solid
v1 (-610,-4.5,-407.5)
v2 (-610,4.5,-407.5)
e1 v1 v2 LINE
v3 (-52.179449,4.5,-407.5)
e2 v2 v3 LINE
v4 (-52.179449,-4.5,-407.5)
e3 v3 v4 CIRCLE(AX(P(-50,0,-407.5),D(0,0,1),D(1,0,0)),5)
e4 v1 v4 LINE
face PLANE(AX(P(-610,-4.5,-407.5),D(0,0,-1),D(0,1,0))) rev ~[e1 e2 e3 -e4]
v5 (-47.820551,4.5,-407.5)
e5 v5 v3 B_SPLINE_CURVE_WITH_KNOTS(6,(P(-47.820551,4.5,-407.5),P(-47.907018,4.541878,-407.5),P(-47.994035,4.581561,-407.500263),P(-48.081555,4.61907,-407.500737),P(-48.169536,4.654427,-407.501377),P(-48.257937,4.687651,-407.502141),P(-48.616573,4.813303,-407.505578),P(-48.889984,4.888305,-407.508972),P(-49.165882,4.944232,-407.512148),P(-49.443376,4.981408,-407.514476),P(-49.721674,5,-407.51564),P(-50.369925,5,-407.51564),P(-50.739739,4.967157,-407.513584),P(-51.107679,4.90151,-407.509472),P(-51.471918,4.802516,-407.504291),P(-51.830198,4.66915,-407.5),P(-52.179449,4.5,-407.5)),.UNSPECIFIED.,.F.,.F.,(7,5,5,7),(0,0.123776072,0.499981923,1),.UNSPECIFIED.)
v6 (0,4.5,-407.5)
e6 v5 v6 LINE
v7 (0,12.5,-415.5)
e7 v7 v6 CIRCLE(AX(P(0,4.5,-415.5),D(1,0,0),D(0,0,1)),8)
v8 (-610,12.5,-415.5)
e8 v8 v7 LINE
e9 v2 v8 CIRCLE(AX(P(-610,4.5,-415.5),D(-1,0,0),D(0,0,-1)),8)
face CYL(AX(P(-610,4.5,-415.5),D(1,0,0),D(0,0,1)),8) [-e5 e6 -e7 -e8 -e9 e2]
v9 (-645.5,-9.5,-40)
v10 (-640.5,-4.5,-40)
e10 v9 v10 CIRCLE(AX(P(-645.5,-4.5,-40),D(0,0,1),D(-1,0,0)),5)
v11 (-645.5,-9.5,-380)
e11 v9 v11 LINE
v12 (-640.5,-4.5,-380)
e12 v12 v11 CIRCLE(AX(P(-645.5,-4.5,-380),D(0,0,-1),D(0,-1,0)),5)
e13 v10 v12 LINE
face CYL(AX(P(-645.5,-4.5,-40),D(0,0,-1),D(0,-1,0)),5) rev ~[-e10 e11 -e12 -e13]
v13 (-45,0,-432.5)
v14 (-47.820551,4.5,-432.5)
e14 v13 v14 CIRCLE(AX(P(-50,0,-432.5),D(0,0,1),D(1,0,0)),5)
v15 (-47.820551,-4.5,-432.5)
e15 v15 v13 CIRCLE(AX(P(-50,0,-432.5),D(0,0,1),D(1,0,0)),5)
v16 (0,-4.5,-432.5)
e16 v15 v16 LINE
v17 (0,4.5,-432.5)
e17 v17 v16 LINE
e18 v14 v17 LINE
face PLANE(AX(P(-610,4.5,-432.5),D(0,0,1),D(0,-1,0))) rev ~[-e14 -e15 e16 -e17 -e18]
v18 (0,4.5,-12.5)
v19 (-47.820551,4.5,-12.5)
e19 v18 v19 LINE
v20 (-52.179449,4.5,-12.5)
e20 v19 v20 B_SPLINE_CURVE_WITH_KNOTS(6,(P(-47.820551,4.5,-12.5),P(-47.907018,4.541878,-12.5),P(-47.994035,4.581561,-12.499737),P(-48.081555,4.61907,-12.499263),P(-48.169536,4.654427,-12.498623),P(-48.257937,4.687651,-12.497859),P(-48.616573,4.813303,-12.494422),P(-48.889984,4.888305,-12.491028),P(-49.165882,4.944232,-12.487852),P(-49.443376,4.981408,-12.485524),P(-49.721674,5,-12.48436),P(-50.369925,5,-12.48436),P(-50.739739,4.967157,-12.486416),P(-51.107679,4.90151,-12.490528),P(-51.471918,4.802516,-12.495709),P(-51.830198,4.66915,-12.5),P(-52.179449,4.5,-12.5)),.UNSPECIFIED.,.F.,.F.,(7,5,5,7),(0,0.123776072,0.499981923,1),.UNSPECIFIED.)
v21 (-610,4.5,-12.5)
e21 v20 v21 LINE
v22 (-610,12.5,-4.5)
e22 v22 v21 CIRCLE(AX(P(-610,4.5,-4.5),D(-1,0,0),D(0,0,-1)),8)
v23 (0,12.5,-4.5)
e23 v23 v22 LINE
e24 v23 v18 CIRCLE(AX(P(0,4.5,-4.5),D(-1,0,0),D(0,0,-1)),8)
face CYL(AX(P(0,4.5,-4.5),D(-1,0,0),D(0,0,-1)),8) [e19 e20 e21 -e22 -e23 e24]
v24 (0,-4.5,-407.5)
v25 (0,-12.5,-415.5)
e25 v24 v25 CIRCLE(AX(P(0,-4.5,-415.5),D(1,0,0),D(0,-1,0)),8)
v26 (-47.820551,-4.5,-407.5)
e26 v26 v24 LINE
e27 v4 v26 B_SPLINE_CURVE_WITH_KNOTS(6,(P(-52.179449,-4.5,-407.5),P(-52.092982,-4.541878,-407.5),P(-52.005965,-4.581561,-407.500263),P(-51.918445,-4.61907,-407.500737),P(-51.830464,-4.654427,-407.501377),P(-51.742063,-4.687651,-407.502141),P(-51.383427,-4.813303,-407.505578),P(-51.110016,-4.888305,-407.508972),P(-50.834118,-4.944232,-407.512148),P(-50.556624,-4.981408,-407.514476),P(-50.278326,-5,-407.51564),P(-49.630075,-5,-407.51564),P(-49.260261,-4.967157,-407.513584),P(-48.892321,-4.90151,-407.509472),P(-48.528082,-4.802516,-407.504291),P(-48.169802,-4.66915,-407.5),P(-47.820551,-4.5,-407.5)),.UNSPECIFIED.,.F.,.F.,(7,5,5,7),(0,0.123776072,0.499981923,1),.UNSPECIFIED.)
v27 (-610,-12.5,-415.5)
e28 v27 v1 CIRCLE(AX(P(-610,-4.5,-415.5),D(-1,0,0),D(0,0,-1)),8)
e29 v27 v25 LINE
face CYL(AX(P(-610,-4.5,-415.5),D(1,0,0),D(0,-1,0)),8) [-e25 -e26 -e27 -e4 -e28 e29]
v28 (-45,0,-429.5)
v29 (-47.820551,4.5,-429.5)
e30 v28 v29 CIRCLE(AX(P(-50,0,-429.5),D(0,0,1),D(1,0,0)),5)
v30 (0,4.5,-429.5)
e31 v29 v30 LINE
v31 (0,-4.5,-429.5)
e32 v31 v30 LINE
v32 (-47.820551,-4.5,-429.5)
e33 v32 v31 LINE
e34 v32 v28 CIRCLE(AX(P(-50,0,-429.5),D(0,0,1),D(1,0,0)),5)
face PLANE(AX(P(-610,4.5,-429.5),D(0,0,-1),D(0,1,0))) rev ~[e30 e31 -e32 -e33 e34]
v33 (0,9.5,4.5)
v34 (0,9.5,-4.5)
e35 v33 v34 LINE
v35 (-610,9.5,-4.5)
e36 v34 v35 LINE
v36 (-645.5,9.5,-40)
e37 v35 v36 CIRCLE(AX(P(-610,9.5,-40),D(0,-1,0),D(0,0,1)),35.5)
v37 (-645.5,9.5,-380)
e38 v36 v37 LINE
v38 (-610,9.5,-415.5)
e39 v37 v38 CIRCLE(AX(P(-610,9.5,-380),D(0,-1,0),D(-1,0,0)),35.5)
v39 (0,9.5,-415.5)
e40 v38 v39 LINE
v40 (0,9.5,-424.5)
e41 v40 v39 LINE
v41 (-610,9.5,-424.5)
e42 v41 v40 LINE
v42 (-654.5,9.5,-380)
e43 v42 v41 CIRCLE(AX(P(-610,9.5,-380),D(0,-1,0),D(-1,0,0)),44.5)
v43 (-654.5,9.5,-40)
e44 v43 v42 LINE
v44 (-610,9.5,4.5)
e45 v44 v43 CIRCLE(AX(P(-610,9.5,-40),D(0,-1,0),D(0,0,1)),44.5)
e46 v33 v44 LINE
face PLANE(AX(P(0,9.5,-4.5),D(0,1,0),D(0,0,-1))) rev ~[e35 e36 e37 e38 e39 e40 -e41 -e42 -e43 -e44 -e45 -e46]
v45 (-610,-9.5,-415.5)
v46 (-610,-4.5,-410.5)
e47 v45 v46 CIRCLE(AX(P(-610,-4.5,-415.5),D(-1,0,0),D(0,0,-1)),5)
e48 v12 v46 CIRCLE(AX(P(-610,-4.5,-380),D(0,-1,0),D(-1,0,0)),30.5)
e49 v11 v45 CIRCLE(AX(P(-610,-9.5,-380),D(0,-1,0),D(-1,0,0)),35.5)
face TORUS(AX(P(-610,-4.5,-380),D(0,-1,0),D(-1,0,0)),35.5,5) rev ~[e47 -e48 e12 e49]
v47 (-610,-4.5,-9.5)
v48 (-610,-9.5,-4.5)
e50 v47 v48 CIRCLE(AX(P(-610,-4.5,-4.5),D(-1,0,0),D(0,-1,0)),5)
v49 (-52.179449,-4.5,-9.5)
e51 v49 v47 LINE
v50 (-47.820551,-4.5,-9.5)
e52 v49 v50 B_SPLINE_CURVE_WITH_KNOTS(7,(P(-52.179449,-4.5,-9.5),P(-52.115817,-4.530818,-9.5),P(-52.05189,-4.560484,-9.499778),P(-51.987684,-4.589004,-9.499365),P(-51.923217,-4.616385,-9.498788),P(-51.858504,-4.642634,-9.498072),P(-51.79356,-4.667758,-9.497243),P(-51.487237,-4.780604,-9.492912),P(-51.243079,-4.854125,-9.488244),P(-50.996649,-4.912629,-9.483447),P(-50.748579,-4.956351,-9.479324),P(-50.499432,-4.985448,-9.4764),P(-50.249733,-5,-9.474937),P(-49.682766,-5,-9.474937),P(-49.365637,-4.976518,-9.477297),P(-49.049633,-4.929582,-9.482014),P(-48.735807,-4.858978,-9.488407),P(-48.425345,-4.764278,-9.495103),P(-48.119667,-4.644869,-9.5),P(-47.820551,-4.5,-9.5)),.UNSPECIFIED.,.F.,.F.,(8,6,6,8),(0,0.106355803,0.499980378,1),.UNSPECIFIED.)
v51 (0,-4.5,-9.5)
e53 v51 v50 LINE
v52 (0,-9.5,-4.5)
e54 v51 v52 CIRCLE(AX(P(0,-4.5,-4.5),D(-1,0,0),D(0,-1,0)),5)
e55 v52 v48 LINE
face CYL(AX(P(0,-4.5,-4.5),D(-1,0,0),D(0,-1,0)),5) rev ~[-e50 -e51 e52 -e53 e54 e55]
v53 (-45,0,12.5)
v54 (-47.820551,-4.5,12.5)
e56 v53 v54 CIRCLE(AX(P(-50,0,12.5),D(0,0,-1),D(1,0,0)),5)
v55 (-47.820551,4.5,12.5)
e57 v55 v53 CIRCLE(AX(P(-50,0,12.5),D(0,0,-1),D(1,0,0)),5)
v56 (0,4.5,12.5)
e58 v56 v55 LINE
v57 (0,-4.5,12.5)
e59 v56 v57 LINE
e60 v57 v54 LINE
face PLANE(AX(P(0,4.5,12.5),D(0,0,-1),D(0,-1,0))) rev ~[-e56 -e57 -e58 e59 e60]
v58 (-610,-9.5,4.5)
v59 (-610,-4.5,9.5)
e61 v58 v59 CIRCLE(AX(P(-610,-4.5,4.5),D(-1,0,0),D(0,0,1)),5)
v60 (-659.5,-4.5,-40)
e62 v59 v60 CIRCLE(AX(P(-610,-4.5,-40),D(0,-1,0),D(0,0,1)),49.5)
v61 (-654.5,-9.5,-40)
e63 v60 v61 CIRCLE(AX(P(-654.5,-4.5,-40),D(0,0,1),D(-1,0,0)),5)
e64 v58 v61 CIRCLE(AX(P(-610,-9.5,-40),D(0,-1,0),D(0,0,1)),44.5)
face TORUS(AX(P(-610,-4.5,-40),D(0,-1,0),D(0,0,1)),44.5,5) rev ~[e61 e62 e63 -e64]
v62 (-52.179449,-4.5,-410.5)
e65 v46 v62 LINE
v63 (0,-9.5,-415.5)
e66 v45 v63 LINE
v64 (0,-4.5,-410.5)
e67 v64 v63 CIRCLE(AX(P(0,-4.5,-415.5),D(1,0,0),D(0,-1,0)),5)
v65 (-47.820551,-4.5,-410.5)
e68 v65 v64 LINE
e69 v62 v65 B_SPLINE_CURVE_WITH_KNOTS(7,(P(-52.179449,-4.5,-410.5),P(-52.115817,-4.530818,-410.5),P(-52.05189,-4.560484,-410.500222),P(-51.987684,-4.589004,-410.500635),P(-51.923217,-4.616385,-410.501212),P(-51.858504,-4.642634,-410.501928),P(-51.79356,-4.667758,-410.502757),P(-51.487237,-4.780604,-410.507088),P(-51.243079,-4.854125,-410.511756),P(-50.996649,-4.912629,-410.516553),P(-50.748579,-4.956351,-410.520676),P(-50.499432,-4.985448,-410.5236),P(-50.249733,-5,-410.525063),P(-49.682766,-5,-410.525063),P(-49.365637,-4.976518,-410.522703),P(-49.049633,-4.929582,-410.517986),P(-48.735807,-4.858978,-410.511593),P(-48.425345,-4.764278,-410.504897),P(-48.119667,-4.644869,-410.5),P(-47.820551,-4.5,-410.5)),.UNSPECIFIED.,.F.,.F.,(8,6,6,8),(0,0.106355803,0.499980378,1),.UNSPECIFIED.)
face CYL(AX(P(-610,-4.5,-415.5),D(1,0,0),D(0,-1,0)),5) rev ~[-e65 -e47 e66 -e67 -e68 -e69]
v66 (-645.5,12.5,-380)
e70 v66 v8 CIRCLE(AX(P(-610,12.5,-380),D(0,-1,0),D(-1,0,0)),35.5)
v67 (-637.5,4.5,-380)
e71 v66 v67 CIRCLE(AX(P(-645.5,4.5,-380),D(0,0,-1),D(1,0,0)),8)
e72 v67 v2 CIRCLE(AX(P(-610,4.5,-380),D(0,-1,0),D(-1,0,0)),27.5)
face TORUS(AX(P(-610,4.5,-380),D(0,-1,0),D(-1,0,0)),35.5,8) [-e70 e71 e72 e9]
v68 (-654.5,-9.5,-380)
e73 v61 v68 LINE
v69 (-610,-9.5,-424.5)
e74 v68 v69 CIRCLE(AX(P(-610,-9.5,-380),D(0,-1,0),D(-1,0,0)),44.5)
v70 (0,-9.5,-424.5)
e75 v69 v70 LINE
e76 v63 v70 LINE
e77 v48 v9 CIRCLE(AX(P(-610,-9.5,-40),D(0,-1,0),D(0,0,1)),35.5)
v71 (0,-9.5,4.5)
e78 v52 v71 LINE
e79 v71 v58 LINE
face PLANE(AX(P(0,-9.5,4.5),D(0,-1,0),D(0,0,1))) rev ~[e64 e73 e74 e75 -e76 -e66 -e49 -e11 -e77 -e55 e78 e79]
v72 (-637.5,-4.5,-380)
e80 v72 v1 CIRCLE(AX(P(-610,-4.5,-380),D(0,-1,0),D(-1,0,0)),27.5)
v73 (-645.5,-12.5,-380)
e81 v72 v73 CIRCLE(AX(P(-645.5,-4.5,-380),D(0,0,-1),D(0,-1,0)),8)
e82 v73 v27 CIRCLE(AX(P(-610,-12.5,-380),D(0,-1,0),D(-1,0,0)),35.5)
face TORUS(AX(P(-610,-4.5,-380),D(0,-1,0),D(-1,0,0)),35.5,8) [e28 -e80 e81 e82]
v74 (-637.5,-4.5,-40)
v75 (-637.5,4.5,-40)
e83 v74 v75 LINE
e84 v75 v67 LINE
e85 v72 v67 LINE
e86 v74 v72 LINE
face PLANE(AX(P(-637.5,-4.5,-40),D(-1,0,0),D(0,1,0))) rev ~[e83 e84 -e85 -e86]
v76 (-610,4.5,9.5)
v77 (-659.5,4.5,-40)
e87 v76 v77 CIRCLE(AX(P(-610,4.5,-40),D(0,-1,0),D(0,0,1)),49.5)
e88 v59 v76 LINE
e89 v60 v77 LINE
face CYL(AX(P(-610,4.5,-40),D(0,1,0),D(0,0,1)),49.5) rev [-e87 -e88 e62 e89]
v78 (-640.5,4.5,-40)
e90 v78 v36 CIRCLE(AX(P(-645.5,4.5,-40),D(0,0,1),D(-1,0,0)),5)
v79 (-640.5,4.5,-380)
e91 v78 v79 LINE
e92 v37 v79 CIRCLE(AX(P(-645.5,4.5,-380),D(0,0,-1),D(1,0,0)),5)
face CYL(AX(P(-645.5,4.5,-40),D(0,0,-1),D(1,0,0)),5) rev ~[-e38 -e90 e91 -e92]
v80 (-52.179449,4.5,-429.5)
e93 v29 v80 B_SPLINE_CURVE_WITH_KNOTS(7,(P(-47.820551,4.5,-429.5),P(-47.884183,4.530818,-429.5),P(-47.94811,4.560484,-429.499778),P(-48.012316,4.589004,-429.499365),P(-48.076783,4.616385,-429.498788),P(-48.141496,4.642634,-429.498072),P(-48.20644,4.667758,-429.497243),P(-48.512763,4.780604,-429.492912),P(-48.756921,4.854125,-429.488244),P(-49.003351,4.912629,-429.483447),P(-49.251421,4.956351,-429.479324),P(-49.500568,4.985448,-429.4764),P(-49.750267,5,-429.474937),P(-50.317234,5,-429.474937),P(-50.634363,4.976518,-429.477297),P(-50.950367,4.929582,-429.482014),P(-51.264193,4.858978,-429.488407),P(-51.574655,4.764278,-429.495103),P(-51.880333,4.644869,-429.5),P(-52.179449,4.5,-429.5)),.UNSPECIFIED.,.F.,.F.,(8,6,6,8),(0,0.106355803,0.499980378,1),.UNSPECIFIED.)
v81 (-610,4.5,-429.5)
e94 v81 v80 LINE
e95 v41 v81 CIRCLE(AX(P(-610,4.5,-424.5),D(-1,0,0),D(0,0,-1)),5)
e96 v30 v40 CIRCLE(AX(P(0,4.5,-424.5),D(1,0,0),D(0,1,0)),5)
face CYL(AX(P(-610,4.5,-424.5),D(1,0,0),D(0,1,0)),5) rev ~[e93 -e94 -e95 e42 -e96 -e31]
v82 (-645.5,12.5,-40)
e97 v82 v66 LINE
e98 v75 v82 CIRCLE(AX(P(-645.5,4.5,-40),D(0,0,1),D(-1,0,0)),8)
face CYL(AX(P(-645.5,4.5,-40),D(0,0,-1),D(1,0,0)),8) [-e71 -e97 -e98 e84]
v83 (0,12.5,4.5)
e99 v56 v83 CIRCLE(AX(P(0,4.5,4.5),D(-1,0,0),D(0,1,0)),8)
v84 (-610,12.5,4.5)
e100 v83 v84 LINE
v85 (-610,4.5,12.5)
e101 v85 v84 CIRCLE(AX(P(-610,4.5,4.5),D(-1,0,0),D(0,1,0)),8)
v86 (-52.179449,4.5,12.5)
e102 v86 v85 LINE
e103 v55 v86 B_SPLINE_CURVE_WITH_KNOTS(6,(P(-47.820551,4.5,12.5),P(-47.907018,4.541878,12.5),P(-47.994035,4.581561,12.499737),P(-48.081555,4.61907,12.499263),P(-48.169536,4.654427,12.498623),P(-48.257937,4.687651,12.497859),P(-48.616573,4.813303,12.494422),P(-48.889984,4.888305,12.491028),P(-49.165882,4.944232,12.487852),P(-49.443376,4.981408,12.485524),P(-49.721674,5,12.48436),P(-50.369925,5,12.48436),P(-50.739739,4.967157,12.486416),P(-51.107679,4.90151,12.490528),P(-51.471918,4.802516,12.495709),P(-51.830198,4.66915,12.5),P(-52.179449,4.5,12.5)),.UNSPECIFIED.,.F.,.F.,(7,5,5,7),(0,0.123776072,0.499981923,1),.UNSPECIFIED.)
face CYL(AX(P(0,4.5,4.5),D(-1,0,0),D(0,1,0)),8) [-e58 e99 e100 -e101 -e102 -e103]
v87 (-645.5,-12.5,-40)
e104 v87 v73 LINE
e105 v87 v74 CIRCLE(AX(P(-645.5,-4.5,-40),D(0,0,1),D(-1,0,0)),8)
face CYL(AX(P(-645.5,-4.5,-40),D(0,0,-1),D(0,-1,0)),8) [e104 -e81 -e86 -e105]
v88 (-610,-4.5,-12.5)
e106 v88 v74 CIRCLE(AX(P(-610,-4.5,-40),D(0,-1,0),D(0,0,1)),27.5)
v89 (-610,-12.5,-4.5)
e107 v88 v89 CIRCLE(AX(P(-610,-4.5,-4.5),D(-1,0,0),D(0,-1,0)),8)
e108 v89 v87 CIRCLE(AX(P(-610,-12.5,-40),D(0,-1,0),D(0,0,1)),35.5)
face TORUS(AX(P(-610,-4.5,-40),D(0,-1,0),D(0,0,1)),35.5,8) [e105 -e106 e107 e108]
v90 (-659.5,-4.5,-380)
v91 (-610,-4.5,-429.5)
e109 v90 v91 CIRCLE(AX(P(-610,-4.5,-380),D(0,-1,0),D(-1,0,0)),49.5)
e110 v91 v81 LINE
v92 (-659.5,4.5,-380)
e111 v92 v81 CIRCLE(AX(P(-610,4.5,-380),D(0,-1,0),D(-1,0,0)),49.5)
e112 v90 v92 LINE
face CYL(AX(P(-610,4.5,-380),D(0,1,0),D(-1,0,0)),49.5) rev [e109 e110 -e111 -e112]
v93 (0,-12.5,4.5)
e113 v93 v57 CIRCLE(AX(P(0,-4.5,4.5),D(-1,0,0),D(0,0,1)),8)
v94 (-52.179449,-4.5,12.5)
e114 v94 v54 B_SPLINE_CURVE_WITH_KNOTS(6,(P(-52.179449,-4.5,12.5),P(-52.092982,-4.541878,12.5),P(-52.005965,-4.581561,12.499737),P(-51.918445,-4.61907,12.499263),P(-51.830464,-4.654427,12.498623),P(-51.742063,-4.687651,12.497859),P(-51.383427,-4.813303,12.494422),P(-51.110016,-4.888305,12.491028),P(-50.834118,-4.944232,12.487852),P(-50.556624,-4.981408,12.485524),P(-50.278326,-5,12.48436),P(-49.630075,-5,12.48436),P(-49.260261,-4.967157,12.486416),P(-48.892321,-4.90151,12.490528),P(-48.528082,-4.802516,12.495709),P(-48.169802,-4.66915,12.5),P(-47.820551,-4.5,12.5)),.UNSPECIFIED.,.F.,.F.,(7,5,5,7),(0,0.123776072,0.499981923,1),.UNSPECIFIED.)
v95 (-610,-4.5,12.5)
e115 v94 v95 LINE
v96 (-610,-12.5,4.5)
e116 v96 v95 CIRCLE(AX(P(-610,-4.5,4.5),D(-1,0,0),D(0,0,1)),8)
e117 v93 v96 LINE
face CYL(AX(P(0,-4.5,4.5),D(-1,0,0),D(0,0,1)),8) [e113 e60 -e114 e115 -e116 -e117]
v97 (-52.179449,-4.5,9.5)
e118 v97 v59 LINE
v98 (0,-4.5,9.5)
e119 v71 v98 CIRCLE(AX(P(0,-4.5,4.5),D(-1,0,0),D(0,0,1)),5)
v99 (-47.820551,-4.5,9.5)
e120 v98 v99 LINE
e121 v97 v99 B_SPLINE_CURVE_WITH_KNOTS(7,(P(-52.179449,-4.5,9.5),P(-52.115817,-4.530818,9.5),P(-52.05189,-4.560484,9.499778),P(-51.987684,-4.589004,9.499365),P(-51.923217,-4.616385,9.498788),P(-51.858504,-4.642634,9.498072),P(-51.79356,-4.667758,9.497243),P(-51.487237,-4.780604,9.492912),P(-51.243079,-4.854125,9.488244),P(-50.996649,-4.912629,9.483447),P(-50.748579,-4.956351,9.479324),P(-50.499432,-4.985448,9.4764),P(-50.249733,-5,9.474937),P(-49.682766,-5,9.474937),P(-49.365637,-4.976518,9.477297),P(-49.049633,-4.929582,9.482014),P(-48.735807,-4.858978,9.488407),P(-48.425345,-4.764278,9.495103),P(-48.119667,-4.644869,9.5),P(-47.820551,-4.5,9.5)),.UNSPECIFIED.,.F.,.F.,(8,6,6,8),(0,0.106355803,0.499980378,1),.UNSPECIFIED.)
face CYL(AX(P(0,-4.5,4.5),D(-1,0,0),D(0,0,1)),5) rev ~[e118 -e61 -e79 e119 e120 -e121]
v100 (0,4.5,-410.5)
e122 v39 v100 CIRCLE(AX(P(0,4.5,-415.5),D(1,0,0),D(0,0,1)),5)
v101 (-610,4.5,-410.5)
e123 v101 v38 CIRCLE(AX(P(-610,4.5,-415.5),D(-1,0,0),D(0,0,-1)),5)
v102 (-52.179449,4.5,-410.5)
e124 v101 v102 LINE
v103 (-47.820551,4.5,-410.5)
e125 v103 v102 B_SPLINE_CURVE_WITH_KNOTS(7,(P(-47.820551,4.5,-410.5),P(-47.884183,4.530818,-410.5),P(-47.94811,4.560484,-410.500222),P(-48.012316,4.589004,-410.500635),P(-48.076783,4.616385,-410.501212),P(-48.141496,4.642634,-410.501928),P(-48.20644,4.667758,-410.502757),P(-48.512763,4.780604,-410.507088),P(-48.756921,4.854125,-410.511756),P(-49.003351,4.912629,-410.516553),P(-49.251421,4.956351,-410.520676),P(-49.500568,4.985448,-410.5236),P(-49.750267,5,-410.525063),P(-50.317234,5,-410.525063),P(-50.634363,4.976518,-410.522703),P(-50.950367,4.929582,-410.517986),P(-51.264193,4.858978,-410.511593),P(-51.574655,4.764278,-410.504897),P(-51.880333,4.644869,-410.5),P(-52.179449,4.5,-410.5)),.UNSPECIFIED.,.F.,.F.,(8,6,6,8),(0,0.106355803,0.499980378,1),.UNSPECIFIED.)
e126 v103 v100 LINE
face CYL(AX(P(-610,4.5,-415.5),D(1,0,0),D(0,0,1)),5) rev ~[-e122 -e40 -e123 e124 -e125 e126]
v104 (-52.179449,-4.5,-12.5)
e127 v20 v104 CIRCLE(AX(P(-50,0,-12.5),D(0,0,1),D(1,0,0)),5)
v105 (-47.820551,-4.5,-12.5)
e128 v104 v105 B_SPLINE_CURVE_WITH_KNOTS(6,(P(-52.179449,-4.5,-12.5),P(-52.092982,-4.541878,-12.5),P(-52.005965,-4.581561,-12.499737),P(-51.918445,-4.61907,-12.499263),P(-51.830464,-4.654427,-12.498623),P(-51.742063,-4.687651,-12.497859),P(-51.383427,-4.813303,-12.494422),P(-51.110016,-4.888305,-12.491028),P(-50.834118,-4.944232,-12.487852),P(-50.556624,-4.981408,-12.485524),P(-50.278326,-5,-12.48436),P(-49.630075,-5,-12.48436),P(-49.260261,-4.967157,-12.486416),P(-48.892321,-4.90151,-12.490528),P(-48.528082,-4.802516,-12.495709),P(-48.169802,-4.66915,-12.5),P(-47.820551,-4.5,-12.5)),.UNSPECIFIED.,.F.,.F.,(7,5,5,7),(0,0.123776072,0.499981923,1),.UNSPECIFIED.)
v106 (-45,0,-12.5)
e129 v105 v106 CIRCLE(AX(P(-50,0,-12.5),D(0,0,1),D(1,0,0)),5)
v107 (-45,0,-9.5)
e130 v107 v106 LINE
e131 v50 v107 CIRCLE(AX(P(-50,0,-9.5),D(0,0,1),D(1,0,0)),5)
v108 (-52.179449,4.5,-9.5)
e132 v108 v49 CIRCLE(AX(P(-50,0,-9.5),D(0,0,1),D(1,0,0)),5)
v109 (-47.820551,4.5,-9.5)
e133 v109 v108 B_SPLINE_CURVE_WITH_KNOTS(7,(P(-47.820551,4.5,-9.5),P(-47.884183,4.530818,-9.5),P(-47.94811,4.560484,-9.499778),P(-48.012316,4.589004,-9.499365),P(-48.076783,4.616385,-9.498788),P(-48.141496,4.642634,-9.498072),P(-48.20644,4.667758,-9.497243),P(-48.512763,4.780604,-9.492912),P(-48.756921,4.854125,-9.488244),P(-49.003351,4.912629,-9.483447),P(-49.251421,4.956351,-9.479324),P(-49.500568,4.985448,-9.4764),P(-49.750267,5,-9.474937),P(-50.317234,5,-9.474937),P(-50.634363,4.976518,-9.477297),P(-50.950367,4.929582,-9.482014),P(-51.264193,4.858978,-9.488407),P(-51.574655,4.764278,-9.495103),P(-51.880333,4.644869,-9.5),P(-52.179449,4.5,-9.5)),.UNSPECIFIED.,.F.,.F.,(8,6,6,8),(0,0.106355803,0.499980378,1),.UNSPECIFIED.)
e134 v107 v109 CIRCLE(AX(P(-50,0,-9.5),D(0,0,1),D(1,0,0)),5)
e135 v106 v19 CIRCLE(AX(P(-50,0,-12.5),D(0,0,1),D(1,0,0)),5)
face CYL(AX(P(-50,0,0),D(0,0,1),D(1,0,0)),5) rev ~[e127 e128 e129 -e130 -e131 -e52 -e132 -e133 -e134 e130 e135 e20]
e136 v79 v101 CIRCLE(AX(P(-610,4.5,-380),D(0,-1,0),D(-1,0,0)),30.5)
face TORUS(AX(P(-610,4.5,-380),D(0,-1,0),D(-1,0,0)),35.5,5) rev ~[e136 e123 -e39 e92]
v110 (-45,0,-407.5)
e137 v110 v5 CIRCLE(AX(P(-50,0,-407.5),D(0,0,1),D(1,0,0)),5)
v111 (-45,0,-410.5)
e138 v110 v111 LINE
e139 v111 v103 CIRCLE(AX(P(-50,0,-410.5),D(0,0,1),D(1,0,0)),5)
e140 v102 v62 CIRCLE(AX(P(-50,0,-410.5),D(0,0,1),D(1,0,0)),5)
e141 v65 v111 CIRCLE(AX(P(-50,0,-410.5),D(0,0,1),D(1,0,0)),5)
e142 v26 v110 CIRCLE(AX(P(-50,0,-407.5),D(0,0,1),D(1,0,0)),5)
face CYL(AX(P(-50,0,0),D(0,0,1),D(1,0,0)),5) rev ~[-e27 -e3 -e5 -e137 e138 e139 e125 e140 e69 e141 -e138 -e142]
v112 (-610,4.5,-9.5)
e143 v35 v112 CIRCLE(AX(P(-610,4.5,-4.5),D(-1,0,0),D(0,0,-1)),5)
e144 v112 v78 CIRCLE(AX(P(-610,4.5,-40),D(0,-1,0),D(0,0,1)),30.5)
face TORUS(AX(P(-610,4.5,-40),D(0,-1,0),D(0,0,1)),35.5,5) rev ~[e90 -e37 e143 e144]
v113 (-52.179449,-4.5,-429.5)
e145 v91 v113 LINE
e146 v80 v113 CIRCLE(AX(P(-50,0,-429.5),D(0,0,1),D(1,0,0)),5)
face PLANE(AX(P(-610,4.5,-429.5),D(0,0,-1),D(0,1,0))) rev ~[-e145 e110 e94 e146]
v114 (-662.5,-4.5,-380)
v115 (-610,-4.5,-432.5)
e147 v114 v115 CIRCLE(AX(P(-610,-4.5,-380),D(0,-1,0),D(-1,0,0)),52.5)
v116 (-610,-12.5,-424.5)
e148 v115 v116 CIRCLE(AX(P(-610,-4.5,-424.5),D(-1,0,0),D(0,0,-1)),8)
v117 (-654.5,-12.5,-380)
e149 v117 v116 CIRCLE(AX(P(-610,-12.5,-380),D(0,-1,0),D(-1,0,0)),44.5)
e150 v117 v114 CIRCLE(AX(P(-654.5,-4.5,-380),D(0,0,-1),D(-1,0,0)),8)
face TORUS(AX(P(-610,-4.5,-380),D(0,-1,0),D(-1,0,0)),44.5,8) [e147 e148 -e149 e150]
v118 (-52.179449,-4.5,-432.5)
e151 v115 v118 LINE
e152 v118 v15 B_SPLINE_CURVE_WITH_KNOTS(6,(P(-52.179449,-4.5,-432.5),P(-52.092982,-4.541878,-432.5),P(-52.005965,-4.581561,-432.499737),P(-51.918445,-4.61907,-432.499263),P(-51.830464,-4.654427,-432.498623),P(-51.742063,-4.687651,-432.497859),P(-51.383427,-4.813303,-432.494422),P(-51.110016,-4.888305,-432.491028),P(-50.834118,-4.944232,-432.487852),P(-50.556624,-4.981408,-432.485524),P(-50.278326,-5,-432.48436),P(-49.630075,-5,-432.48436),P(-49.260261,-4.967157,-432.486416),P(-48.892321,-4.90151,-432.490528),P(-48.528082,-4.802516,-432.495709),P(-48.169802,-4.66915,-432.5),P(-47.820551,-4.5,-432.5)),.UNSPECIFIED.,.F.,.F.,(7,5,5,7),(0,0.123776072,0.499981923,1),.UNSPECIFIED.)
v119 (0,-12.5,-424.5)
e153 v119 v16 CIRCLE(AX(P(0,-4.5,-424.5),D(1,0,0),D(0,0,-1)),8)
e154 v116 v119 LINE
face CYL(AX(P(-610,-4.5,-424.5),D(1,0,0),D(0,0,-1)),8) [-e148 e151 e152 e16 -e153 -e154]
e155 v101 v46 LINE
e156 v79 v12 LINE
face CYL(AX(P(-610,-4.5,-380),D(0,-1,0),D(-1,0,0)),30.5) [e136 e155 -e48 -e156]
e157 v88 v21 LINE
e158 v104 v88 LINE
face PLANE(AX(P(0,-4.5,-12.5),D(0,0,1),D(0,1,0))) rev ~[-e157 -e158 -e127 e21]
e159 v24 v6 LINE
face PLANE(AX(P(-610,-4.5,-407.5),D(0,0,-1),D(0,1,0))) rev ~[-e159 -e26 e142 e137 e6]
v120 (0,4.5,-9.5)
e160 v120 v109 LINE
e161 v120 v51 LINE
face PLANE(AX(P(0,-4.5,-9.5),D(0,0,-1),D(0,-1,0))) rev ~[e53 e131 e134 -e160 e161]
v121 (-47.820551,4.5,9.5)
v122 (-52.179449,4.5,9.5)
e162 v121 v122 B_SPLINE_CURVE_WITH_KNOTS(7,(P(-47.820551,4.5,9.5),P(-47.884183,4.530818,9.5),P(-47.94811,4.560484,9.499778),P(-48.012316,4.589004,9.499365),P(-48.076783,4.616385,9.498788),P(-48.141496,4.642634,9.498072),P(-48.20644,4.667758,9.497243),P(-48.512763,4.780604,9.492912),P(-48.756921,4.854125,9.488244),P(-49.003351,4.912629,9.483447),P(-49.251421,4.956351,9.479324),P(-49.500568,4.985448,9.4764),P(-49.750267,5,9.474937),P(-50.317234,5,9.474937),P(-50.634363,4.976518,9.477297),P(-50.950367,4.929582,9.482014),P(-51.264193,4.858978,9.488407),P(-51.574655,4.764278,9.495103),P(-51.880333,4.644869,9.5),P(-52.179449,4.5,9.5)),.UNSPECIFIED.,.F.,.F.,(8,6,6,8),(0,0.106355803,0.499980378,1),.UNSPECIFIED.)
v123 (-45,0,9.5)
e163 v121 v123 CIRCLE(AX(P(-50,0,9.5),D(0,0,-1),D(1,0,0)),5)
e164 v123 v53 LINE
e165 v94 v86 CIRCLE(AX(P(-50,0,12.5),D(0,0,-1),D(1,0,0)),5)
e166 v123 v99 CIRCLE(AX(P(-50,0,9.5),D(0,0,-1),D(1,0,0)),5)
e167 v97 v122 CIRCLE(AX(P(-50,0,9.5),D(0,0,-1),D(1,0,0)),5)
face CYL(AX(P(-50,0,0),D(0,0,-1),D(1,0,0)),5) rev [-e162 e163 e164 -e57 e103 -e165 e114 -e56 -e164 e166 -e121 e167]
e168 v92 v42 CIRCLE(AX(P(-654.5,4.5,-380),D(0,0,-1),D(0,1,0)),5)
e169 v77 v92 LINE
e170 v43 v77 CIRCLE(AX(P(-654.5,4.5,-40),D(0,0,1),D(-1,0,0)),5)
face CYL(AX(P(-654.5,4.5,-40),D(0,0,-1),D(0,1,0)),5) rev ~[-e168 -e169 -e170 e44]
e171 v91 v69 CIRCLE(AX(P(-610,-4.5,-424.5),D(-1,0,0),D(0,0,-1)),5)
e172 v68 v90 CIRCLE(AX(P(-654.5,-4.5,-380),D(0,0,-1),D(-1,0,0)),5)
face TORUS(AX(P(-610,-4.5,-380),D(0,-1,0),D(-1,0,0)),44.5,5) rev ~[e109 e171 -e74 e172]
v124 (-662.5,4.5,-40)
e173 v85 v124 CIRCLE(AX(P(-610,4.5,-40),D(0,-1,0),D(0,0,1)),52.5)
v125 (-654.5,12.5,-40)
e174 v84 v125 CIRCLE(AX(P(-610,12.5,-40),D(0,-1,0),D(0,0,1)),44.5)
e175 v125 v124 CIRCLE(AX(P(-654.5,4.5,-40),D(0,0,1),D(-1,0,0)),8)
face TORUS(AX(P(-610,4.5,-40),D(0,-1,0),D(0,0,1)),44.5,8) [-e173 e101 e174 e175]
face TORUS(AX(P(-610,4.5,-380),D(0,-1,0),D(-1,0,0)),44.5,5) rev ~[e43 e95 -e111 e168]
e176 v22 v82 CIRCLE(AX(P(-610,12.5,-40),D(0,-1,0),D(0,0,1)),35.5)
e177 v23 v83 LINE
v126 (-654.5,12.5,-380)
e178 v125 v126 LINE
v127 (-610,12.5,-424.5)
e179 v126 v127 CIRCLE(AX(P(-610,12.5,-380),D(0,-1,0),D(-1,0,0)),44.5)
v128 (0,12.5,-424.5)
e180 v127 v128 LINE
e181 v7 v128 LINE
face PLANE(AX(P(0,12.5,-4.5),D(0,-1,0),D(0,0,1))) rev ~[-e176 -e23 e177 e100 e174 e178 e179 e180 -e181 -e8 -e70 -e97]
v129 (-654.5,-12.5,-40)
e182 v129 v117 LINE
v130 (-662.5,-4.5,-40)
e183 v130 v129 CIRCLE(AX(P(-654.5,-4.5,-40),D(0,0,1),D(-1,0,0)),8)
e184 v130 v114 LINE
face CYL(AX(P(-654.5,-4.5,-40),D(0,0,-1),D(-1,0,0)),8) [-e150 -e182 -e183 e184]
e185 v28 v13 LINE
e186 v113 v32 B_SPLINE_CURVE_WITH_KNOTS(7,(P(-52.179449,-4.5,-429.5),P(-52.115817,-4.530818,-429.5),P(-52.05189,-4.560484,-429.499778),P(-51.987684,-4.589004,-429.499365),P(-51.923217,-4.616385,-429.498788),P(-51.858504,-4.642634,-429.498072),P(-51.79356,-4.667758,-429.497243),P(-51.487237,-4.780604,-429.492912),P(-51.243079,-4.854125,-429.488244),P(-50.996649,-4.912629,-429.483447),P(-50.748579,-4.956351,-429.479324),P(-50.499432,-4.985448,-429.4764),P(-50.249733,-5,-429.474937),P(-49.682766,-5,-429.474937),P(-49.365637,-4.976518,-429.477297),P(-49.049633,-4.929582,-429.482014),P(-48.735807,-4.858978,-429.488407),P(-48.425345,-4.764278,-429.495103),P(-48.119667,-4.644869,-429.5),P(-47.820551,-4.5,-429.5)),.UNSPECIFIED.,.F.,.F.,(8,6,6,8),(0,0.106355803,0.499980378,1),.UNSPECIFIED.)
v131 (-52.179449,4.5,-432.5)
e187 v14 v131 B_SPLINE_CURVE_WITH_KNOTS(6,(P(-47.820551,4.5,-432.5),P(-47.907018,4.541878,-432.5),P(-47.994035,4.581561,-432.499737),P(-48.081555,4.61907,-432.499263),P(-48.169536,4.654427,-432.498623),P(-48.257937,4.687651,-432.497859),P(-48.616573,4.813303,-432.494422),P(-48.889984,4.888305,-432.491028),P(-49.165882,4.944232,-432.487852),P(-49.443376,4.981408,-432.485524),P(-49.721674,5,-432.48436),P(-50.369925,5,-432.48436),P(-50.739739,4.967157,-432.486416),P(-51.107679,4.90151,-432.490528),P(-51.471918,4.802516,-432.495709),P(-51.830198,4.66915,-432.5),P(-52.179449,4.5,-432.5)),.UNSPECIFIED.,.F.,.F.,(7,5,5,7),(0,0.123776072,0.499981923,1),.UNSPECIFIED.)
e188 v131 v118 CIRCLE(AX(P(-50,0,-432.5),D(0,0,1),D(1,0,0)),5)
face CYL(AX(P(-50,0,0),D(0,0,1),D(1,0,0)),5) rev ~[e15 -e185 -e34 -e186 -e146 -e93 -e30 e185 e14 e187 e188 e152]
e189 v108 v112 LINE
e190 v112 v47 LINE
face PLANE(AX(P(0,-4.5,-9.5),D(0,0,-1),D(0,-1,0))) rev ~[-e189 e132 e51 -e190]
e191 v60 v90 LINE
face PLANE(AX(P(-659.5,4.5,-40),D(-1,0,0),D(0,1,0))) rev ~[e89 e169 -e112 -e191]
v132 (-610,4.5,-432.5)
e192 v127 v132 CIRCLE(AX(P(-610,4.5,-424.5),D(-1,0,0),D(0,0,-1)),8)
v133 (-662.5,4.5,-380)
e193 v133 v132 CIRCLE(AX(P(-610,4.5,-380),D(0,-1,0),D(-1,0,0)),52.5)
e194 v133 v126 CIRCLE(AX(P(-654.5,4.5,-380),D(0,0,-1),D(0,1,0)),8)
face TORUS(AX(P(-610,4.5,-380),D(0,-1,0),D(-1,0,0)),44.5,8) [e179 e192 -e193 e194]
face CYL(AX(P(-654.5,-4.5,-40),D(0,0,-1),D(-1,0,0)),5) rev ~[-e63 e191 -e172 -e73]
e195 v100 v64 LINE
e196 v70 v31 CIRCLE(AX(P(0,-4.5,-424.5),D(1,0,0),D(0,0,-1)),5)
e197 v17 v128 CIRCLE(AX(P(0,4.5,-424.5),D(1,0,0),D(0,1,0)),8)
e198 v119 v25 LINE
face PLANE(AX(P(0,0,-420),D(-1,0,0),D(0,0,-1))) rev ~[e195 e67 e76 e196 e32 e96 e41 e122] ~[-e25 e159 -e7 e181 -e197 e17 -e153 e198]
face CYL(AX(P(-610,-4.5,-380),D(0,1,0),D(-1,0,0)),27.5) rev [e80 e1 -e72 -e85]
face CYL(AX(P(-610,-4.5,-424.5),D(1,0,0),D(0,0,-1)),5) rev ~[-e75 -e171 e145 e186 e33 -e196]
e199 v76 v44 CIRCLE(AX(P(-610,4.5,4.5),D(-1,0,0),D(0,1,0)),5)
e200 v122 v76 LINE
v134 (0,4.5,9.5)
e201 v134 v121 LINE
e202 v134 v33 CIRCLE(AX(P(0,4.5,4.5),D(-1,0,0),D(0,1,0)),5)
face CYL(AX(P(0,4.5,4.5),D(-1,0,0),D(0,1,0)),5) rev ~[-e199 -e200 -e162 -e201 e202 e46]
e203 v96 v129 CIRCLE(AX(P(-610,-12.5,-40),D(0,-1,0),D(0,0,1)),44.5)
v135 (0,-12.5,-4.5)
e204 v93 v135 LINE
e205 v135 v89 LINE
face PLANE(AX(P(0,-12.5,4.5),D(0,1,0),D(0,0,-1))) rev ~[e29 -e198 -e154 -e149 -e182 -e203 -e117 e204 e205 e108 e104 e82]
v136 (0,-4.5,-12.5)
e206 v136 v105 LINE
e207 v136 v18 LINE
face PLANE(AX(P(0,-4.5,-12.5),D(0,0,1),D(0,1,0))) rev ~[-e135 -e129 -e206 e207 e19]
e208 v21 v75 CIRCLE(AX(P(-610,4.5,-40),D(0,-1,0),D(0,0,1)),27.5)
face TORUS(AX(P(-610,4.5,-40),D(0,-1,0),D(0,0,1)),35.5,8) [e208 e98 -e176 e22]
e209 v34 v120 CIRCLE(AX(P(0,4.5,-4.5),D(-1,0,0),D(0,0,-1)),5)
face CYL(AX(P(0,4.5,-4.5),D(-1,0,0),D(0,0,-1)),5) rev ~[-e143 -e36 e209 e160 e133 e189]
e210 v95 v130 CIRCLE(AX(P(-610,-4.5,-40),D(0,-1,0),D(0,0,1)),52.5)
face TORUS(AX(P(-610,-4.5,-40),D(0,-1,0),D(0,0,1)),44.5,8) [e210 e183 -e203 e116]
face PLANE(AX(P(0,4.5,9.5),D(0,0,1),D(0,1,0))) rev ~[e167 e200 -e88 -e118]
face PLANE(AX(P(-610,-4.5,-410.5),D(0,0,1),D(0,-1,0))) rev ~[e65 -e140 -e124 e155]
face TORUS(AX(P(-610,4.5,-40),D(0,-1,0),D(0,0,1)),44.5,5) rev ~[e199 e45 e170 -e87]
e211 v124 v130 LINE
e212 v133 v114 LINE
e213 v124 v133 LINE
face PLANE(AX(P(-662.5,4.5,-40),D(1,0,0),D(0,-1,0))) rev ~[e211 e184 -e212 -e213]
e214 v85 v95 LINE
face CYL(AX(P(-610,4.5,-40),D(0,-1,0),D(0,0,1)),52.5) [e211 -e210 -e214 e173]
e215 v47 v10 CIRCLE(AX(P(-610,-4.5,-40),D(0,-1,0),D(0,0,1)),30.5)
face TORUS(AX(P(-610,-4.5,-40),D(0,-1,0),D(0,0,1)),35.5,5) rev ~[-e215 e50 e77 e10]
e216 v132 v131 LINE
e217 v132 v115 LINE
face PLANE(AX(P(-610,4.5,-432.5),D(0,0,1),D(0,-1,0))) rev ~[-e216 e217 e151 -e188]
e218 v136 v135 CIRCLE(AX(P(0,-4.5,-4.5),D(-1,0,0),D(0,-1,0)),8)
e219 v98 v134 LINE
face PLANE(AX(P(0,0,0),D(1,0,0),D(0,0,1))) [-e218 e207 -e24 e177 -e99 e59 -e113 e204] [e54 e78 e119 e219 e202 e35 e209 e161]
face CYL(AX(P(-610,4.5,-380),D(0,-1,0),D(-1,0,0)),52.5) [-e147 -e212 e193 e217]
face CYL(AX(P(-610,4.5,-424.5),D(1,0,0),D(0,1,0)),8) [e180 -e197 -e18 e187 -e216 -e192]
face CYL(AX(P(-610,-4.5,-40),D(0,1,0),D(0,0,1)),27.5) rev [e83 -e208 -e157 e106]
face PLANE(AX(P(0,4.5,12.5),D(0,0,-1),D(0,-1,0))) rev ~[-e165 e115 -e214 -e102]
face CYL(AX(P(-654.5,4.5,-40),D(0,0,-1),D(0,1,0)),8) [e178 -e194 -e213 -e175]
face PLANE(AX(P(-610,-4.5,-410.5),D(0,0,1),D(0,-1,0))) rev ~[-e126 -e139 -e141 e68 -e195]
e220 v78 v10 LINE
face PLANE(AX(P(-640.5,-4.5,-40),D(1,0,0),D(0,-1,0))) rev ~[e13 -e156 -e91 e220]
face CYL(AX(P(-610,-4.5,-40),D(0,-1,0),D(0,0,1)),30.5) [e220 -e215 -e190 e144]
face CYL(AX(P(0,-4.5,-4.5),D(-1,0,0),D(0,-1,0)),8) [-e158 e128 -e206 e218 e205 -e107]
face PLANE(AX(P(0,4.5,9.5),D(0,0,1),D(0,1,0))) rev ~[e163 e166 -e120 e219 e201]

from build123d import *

# Parameters (mm, degrees)
SKETCH3_R               = 5
CUT_EXTRUDE1_DEPTH      = 13.5000001
CUT_EXTRUDE1_DEPTH_BACK = 433.5000001


with BuildPart() as part:
    # Sweep-Thin1: sweep along a path in Sketch1
    with BuildLine(Plane(origin=(0, 0, 0), x_dir=(1, 0, 0), z_dir=(0, 1, 0))) as sweep_thin1_path:
        Line((0, 0), (-610, 0))
        ThreePointArc((-610, 0), (-638.284271247, 11.715728753), (-650, 40))
        Line((-650, 40), (-650, 380))
        ThreePointArc((-650, 380), (-638.284271247, 408.284271247), (-610, 420))
        Line((-610, 420), (0, 420))
    # Sketch2 → Sweep-Thin1 (sweep)
    with BuildSketch(Plane(origin=(0, 0, 0), x_dir=(0, 0, -1), z_dir=(1, 0, 0))):
        with BuildLine():
            Line((4.5, 12.5), (-4.5, 12.5))
            ThreePointArc((-4.5, 12.5), (-10.156854249, 10.156854249), (-12.5, 4.5))
            Line((-12.5, 4.5), (-12.5, -4.5))
            ThreePointArc((-12.5, -4.5), (-10.156854249, -10.156854249), (-4.5, -12.5))
            Line((-4.5, -12.5), (4.5, -12.5))
            ThreePointArc((4.5, -12.5), (10.156854249, -10.156854249), (12.5, -4.5))
            Line((12.5, -4.5), (12.5, 4.5))
            ThreePointArc((12.5, 4.5), (10.156854249, 10.156854249), (4.5, 12.5))
        make_face()
        with BuildLine():
            Line((4.5, 9.5), (-4.5, 9.5))
            ThreePointArc((-4.5, 9.5), (-8.035533906, 8.035533906), (-9.5, 4.5))
            Line((-9.5, 4.5), (-9.5, -4.5))
            ThreePointArc((-9.5, -4.5), (-8.035533906, -8.035533906), (-4.5, -9.5))
            Line((-4.5, -9.5), (4.5, -9.5))
            ThreePointArc((4.5, -9.5), (8.035533906, -8.035533906), (9.5, -4.5))
            Line((9.5, -4.5), (9.5, 4.5))
            ThreePointArc((9.5, 4.5), (8.035533906, 8.035533906), (4.5, 9.5))
        make_face(mode=Mode.SUBTRACT)
    sweep(path=sweep_thin1_path.line)

    # Sketch3 → Cut-Extrude1 (cut, two sides)
    with BuildSketch(Plane.XY) as cut_extrude1_sk:
        with Locations((-50, 0)):
            Circle(SKETCH3_R)
    extrude(amount=CUT_EXTRUDE1_DEPTH, mode=Mode.SUBTRACT)
    extrude(cut_extrude1_sk.sketch, amount=-CUT_EXTRUDE1_DEPTH_BACK, mode=Mode.SUBTRACT)


solid = part.part
